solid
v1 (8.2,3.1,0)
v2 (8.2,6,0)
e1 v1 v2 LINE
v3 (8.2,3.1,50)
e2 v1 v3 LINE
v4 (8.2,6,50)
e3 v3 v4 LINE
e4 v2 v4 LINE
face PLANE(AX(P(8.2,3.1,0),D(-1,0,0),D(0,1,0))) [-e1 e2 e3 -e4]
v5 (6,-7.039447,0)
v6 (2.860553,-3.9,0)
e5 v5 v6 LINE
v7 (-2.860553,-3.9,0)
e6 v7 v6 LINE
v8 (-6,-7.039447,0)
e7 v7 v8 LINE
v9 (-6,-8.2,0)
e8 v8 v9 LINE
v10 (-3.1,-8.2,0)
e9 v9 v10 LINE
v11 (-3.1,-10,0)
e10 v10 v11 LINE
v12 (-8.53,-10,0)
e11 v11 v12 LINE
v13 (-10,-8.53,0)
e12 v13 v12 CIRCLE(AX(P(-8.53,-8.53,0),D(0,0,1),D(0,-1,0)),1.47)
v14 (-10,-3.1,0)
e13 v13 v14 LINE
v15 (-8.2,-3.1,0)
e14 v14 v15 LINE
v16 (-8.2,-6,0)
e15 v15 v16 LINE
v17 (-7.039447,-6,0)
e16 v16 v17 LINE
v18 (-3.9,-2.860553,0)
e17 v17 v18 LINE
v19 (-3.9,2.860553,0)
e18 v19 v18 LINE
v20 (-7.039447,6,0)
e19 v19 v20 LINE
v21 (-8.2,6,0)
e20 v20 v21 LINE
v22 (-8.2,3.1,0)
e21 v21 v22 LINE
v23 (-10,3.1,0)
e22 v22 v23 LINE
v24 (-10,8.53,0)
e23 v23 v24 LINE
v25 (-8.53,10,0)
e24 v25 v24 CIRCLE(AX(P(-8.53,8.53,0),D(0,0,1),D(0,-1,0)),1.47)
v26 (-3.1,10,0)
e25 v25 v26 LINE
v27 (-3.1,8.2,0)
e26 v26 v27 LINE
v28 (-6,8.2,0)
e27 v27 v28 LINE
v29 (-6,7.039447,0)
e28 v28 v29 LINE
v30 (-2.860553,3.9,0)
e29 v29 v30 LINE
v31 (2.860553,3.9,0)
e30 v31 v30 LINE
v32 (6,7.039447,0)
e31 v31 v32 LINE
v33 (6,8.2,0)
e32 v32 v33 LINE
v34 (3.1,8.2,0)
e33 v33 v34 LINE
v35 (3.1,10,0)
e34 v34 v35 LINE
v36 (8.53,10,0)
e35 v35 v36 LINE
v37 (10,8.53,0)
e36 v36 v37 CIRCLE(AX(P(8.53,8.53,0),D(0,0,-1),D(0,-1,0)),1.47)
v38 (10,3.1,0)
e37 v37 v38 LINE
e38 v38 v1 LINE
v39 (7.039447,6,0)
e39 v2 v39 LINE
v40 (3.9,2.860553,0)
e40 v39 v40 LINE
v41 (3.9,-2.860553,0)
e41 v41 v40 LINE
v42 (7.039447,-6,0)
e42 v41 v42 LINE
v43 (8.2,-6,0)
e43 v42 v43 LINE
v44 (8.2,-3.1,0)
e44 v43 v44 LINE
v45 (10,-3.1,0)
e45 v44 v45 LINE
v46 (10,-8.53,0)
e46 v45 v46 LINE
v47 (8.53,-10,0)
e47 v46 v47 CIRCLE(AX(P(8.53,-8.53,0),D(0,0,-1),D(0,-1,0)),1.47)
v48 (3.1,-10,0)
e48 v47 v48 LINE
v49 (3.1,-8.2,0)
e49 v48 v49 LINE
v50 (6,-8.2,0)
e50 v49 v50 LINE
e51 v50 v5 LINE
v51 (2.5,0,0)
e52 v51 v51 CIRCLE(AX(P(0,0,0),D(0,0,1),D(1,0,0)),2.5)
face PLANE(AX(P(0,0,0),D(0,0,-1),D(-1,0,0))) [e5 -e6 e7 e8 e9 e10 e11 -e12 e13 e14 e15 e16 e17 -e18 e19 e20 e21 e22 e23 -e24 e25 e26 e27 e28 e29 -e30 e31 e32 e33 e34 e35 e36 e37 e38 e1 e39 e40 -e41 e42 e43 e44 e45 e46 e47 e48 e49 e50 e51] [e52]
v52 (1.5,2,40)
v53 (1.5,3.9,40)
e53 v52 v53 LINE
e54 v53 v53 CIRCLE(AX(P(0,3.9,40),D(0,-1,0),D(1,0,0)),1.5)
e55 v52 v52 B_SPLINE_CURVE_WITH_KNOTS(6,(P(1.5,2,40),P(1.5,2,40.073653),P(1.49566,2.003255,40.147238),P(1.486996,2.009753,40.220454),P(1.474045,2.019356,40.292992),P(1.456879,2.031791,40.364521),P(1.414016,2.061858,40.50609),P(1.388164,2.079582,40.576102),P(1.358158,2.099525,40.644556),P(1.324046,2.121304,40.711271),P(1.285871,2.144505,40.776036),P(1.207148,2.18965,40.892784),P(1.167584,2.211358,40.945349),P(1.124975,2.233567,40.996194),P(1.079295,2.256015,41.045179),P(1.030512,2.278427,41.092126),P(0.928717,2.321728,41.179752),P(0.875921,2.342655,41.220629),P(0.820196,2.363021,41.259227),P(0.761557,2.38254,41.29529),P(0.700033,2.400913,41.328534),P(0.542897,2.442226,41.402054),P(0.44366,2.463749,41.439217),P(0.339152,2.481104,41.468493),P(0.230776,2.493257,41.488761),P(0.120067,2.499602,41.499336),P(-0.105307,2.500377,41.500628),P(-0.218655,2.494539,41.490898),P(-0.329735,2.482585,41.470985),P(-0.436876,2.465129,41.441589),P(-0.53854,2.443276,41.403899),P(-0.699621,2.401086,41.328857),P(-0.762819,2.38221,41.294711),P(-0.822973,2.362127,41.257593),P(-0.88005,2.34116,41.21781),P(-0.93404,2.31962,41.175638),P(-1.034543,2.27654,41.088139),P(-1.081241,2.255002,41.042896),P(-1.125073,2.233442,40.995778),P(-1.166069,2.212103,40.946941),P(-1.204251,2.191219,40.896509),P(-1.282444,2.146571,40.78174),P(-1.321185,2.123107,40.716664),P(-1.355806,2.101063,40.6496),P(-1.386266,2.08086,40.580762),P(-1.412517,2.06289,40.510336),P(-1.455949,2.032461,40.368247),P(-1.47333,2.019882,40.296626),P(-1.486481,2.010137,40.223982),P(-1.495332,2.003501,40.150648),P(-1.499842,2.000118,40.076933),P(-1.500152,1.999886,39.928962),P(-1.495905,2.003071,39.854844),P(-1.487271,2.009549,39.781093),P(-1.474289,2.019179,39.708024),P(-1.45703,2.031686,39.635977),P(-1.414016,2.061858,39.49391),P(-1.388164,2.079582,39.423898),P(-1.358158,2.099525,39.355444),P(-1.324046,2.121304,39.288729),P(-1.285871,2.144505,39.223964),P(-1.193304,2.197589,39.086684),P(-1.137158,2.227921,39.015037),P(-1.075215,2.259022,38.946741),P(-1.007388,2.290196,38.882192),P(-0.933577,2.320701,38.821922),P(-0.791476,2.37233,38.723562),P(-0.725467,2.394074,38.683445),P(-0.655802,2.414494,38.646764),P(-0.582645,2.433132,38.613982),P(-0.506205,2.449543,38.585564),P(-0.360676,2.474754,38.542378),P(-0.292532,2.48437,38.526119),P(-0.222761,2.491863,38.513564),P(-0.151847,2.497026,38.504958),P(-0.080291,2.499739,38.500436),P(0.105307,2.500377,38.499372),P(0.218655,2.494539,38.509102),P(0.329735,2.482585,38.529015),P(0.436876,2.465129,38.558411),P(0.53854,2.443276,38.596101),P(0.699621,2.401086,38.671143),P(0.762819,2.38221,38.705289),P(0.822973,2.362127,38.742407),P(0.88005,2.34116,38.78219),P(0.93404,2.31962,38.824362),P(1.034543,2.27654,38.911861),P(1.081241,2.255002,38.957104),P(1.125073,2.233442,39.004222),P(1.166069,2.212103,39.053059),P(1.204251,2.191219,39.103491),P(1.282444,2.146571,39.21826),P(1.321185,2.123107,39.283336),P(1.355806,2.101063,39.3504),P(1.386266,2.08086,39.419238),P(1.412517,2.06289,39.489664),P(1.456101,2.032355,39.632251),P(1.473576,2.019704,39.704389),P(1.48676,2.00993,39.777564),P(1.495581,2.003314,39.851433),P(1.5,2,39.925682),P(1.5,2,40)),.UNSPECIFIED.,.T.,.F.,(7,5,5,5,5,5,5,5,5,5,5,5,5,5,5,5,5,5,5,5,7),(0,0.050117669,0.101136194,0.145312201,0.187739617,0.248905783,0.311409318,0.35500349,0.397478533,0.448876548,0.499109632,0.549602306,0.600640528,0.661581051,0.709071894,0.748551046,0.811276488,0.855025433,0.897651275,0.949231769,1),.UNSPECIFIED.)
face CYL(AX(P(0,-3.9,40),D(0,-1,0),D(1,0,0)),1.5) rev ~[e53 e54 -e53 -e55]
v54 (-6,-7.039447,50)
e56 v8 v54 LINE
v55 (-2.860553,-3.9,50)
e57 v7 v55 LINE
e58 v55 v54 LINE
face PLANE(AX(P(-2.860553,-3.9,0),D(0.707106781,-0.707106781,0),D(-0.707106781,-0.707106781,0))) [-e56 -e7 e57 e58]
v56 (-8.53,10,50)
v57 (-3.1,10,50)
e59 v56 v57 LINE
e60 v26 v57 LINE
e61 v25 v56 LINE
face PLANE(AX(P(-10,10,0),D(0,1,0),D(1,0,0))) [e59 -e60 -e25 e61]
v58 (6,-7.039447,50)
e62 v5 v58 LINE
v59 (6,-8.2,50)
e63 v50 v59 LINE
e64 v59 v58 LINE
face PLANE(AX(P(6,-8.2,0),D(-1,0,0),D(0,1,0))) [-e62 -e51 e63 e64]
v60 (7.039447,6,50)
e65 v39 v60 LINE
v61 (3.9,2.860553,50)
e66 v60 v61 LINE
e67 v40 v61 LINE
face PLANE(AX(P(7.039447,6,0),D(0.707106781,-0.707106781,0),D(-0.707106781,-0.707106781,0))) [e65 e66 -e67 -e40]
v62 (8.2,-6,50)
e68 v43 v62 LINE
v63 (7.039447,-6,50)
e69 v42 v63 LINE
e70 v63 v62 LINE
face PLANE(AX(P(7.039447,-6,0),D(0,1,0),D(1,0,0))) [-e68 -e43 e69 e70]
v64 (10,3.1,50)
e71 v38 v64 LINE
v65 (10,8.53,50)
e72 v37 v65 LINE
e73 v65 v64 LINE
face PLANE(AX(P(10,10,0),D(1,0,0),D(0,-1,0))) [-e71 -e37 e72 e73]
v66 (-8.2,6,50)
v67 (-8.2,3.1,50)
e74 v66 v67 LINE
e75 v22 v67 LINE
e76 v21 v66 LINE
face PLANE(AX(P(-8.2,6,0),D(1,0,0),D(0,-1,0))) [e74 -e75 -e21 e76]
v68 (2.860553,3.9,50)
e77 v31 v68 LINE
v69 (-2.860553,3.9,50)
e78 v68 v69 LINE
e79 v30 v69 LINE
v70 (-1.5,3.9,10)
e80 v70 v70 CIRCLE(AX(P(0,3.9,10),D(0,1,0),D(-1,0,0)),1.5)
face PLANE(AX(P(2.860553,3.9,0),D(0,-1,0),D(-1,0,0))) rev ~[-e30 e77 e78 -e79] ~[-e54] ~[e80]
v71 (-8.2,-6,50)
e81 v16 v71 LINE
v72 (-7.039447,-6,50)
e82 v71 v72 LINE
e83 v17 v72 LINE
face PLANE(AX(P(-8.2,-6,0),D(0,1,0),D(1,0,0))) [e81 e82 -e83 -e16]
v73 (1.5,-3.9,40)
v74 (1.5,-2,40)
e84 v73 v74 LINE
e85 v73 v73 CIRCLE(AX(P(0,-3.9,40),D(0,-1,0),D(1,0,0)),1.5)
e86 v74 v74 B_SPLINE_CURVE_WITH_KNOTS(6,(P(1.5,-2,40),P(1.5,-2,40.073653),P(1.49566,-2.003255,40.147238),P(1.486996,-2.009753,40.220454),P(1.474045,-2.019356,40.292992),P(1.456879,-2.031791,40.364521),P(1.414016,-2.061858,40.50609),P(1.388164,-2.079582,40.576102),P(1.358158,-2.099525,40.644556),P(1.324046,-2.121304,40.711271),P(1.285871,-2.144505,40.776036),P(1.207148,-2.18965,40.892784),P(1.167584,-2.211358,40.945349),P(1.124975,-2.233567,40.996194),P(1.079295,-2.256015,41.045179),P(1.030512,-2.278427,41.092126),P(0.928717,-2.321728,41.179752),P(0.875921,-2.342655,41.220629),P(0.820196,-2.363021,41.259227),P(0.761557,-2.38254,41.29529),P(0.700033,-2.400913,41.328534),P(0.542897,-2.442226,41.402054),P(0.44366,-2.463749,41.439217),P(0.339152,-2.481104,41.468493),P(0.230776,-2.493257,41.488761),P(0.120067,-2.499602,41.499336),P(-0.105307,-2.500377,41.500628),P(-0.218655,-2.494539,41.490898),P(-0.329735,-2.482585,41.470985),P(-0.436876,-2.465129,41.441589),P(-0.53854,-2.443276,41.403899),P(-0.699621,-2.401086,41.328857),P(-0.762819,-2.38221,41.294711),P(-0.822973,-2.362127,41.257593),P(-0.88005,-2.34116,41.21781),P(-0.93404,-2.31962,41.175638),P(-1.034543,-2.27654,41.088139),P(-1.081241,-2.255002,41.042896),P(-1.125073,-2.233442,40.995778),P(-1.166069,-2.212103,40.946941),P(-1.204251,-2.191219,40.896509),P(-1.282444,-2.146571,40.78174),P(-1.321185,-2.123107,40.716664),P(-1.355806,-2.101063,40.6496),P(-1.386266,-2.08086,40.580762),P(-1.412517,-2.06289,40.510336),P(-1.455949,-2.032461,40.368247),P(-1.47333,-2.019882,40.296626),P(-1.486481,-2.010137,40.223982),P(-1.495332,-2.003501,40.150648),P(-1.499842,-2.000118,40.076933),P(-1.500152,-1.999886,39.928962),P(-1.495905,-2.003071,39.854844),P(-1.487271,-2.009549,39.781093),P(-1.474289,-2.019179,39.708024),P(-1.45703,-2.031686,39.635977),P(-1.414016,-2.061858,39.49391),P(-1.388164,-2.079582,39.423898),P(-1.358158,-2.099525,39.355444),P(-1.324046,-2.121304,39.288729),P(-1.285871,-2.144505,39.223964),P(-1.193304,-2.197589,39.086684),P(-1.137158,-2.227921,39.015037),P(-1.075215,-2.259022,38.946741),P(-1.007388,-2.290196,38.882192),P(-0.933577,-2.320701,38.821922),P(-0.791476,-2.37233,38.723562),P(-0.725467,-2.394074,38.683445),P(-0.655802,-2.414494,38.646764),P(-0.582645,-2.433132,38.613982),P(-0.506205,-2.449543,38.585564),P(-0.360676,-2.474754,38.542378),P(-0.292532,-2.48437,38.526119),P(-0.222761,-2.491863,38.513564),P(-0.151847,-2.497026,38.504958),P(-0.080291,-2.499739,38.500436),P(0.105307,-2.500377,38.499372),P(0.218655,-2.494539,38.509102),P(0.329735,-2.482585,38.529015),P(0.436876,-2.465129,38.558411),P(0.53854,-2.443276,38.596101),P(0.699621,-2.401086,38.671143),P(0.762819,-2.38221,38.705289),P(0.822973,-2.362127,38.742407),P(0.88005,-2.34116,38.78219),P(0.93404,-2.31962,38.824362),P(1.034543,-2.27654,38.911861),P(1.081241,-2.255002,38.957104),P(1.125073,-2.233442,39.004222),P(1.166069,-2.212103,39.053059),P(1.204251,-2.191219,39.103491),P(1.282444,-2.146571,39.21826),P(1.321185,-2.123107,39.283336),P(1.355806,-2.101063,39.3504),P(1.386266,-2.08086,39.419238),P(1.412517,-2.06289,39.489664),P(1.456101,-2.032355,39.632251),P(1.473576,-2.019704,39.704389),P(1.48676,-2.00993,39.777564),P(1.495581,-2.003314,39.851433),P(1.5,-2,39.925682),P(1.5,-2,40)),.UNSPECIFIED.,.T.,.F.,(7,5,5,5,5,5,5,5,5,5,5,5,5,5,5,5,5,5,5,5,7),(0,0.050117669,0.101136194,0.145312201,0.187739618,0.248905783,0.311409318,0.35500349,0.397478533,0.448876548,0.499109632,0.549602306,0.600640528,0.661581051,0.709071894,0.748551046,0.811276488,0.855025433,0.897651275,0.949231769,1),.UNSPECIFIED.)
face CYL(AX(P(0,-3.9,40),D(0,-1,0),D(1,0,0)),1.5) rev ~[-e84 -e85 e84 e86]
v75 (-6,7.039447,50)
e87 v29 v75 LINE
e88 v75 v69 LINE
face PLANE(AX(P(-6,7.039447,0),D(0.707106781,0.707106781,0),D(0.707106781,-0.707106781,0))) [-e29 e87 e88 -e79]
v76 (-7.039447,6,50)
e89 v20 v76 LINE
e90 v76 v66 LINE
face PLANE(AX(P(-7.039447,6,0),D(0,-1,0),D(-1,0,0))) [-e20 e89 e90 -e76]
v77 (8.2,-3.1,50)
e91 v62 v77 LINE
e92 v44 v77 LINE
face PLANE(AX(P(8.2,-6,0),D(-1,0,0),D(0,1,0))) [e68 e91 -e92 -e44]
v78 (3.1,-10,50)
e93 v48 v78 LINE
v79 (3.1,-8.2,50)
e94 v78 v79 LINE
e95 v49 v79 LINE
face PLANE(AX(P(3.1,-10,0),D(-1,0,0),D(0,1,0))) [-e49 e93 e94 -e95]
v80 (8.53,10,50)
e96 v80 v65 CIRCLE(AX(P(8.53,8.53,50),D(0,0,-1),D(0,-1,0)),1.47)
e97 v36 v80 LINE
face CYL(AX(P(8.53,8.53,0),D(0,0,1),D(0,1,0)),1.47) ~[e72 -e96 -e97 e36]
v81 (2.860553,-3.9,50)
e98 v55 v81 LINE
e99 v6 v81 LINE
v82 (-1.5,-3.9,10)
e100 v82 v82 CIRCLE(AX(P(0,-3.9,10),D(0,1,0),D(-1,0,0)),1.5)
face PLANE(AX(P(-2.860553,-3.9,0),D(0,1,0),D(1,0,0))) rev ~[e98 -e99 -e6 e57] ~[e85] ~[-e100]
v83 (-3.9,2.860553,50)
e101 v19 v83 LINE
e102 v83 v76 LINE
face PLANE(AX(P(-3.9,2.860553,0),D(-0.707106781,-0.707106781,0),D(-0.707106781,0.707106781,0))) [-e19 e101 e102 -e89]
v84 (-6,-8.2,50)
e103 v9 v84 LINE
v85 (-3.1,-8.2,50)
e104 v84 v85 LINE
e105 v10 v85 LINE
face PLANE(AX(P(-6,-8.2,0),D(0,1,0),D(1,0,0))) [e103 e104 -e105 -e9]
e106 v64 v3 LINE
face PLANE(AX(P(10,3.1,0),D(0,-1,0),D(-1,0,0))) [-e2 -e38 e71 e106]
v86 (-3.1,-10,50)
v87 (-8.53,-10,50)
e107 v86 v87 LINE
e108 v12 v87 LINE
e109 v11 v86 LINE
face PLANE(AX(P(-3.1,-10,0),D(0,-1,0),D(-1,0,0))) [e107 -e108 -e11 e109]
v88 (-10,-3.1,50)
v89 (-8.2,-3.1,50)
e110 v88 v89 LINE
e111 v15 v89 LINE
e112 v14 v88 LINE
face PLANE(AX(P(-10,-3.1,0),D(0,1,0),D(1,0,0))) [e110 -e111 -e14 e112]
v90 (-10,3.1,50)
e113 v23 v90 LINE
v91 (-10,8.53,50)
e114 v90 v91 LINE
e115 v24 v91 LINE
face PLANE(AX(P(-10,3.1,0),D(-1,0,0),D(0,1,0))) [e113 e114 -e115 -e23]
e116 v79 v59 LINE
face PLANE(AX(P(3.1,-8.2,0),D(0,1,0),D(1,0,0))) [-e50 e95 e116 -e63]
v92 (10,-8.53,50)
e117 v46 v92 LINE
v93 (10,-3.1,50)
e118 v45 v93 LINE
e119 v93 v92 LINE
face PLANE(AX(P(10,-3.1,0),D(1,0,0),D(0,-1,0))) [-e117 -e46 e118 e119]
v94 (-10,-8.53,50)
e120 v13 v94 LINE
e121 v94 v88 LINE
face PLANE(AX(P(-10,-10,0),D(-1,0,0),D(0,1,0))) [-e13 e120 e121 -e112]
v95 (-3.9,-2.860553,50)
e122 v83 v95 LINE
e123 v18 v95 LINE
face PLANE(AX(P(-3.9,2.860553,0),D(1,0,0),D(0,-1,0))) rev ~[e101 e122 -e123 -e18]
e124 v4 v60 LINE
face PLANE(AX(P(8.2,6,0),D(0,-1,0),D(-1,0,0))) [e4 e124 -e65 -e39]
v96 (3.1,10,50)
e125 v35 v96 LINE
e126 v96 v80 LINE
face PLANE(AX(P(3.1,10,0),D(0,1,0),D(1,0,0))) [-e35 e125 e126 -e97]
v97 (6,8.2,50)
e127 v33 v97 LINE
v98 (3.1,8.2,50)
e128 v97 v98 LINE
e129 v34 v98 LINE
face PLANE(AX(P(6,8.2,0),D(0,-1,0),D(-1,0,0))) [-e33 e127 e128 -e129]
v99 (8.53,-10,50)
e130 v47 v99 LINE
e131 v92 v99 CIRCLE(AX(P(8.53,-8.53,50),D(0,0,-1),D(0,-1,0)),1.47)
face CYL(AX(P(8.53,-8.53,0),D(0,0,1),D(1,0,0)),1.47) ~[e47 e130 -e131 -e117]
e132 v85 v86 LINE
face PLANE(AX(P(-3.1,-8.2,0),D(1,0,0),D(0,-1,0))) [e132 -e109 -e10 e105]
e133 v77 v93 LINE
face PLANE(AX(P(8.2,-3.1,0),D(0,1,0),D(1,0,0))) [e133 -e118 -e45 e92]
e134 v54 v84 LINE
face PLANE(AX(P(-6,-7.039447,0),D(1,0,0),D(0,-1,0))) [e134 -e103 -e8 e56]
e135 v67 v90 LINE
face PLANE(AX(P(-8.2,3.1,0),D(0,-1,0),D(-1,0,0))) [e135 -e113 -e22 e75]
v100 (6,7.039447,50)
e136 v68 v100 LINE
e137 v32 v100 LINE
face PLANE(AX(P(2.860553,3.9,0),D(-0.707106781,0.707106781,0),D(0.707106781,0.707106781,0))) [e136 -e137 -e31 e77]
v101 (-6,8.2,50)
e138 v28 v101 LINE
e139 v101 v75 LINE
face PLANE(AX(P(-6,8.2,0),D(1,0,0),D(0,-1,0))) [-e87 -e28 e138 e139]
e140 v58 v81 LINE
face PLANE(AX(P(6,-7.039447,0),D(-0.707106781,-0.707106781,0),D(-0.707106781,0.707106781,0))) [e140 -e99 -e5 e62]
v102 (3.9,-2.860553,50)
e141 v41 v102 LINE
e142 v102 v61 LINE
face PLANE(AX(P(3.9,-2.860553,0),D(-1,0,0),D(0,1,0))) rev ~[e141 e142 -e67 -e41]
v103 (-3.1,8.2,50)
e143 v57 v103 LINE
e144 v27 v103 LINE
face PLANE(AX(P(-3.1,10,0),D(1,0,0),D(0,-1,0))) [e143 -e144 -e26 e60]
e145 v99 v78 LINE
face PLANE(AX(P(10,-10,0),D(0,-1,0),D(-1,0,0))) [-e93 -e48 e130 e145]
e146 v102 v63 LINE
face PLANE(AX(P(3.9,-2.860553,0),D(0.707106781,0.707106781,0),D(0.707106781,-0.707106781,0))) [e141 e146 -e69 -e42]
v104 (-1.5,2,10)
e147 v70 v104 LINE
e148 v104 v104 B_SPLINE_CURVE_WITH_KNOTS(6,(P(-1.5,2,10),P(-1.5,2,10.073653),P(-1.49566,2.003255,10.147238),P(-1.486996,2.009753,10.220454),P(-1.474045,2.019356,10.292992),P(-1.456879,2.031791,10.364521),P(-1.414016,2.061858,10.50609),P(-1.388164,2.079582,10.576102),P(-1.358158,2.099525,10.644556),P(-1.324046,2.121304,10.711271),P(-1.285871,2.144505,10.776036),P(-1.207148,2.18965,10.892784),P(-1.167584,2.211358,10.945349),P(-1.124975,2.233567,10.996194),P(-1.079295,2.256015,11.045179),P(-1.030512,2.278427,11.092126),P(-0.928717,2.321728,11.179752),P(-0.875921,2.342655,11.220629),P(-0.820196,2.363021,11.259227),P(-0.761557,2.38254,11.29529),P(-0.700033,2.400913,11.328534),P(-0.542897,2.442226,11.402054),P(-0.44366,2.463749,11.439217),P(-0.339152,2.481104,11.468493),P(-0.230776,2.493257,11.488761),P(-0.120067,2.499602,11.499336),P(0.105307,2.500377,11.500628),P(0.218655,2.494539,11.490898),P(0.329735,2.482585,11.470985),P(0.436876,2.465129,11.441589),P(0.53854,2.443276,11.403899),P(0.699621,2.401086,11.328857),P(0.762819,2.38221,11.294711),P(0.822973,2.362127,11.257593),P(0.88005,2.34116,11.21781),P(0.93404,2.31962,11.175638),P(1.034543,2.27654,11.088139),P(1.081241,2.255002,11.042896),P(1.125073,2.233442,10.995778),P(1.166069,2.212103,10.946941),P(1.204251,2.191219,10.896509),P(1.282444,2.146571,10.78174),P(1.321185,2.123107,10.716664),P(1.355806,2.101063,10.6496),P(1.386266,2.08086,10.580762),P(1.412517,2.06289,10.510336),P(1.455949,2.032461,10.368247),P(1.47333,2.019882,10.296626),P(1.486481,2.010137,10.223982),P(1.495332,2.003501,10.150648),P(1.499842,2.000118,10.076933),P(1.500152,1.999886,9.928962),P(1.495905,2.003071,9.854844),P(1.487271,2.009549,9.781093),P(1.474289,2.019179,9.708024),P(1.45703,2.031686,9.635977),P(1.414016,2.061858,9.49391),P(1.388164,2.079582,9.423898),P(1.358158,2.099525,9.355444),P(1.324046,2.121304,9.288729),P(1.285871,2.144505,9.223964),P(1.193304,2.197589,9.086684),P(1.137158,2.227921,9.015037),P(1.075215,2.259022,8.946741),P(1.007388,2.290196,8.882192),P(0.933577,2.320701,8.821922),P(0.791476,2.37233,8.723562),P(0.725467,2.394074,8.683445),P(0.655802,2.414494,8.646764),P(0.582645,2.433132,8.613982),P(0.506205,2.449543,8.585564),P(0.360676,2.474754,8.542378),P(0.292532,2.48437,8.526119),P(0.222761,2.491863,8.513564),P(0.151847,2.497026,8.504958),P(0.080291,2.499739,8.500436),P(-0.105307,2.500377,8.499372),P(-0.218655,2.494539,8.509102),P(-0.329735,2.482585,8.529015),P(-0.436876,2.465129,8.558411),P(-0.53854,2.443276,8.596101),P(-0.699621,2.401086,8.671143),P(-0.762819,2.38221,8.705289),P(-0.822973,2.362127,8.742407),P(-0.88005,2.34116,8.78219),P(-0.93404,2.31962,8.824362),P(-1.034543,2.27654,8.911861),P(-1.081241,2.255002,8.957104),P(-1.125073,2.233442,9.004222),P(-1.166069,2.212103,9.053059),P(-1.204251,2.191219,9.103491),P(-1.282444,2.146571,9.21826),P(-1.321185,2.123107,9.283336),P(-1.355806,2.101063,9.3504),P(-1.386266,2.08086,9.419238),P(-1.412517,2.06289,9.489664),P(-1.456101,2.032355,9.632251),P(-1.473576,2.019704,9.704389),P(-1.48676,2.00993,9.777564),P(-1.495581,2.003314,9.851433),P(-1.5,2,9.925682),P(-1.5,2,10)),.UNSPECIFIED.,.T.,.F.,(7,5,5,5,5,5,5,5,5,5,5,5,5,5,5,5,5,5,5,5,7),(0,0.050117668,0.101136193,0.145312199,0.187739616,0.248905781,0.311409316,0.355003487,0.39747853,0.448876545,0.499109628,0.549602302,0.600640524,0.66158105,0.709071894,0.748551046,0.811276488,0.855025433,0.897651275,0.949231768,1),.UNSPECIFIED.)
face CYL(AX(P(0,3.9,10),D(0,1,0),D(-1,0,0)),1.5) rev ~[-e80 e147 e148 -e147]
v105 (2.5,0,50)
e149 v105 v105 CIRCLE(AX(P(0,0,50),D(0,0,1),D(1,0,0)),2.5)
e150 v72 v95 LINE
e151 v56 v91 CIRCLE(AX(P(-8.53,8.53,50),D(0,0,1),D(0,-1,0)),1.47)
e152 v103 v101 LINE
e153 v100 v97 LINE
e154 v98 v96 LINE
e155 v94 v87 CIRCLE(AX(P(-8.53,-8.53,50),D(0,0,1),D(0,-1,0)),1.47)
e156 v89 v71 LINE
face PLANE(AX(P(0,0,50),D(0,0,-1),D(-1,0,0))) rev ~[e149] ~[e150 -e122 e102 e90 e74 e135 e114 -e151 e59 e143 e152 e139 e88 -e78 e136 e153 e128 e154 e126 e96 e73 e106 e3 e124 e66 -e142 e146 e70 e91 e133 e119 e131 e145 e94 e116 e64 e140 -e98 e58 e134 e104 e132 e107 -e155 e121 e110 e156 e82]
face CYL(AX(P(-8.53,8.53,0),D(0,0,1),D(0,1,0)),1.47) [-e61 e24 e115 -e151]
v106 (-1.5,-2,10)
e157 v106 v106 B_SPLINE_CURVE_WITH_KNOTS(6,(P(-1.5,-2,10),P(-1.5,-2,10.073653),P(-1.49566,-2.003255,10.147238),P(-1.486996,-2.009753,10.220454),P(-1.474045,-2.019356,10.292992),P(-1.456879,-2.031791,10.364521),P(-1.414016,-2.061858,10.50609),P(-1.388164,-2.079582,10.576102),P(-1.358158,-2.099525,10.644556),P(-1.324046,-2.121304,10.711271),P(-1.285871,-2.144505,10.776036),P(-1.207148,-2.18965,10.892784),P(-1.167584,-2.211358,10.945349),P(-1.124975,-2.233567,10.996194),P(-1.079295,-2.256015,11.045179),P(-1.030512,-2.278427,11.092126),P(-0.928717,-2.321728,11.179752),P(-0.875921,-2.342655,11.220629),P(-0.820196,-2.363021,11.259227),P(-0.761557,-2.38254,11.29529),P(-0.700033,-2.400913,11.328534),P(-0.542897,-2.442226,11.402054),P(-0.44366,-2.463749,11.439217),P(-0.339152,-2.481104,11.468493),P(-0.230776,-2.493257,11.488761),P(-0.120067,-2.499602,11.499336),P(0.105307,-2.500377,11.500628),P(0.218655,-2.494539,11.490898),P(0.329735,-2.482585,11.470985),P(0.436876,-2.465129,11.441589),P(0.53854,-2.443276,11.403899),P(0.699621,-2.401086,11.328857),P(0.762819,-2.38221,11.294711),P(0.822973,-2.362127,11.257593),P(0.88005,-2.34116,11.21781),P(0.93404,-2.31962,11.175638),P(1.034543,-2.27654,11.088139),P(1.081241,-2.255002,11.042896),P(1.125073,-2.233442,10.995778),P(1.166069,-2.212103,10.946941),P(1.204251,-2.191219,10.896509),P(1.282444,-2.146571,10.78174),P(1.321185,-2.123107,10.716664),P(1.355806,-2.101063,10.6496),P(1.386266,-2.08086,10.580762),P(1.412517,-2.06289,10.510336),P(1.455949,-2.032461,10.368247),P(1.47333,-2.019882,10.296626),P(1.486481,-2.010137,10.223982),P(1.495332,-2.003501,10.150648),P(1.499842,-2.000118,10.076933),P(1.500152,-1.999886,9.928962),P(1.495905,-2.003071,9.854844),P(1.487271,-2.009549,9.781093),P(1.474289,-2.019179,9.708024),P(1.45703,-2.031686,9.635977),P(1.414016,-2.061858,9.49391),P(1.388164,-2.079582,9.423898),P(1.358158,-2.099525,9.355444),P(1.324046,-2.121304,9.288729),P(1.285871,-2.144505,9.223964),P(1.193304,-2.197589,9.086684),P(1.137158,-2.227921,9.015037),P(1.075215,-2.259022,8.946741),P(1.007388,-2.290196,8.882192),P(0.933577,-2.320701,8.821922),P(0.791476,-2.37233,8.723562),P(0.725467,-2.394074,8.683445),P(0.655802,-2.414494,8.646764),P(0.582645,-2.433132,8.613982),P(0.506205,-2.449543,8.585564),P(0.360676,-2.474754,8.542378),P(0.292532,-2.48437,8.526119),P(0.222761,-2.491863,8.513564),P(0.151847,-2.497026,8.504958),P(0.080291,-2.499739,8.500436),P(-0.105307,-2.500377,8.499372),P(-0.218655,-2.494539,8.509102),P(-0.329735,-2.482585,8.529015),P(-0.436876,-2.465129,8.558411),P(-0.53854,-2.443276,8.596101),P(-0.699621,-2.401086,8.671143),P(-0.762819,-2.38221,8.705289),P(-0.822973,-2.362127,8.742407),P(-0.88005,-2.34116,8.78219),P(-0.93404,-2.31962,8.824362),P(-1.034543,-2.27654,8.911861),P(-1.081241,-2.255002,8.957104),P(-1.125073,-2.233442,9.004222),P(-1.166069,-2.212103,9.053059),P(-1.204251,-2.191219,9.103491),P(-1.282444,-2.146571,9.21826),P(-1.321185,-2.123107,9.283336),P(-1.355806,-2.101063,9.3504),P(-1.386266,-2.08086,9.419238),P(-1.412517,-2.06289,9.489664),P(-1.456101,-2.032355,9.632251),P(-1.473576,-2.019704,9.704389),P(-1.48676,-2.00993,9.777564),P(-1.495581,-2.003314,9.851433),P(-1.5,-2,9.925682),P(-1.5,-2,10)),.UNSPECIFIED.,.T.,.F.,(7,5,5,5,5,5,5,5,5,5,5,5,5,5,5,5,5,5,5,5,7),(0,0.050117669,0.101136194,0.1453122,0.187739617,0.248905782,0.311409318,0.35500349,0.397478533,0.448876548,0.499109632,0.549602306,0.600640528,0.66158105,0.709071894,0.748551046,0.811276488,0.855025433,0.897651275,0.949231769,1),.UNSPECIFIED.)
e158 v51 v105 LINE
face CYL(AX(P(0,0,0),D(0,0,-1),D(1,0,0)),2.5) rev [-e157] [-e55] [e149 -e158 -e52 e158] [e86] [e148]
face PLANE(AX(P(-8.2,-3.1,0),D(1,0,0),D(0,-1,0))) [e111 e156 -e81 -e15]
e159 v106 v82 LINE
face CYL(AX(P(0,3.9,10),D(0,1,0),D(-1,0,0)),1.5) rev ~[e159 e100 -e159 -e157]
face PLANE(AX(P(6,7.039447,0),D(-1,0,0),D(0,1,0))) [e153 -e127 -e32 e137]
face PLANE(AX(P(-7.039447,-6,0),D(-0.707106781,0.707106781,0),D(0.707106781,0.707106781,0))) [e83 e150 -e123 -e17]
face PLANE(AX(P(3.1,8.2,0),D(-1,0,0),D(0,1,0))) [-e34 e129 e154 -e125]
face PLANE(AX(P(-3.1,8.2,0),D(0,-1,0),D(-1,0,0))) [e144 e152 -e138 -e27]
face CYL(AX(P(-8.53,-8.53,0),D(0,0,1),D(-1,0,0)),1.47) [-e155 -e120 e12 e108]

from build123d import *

# Parameters (mm, degrees)
SKETCH1_R           = 2.5
BOSS_EXTRUDE1_DEPTH = 50
FILLET1_R           = 1.47
SKETCH2_R           = 1.5
CUT_EXTRUDE1_DEPTH  = 53.850827808
SKETCH3_R           = 1.5
CUT_EXTRUDE2_DEPTH  = 53.850827903


with BuildPart() as part:
    # Sketch1 → Boss-Extrude1 (new body)
    with BuildSketch(Plane.XY):
        Polygon((2.860553032, 3.9), (6, 7.039446968), (6, 8.2), (3.1, 8.2), (3.1, 10), (10, 10), (10, 3.1), (8.2, 3.1), (8.2, 6), (7.039446968, 6), (3.9, 2.860553032), (3.9, 0), (3.9, -2.860553032), (7.039446968, -6), (8.2, -6), (8.2, -3.1), (10, -3.1), (10, -10), (3.1, -10), (3.1, -8.2), (6, -8.2), (6, -7.039446968), (2.860553032, -3.9), (0, -3.9), (-2.860553032, -3.9), (-6, -7.039446968), (-6, -8.2), (-3.1, -8.2), (-3.1, -10), (-10, -10), (-10, -3.1), (-8.2, -3.1), (-8.2, -6), (-7.039446968, -6), (-3.9, -2.860553032), (-3.9, 0), (-3.9, 2.860553032), (-7.039446968, 6), (-8.2, 6), (-8.2, 3.1), (-10, 3.1), (-10, 10), (-3.1, 10), (-3.1, 8.2), (-6, 8.2), (-6, 7.039446968), (-2.860553032, 3.9), (0, 3.9), align=None)
        Circle(SKETCH1_R, mode=Mode.SUBTRACT)
    extrude(amount=BOSS_EXTRUDE1_DEPTH)

    # Fillet1
    fillet1_edges = [part.edges().sort_by_distance(p)[0] for p in [
        (10, -10, 25),
        (-10, -10, 25),
        (-10, 10, 25),
        (10, 10, 25),
    ]]
    fillet(fillet1_edges, radius=FILLET1_R)

    # Sketch2 → Cut-Extrude1 (cut, through all)
    with BuildSketch(Plane.XZ.offset(3.9)):
        with Locations((0, 40)):
            Circle(SKETCH2_R)
    extrude(amount=-CUT_EXTRUDE1_DEPTH, mode=Mode.SUBTRACT)

    # Sketch3 → Cut-Extrude2 (cut, through all)
    with BuildSketch(Plane(origin=(0, 3.9, 0), x_dir=(1, 0, 0), z_dir=(0, 1, 0))):
        with Locations(Location((0, -10, 0), (0, 0, 180))):
            Circle(SKETCH3_R)
    extrude(amount=-CUT_EXTRUDE2_DEPTH, mode=Mode.SUBTRACT)


solid = part.part
